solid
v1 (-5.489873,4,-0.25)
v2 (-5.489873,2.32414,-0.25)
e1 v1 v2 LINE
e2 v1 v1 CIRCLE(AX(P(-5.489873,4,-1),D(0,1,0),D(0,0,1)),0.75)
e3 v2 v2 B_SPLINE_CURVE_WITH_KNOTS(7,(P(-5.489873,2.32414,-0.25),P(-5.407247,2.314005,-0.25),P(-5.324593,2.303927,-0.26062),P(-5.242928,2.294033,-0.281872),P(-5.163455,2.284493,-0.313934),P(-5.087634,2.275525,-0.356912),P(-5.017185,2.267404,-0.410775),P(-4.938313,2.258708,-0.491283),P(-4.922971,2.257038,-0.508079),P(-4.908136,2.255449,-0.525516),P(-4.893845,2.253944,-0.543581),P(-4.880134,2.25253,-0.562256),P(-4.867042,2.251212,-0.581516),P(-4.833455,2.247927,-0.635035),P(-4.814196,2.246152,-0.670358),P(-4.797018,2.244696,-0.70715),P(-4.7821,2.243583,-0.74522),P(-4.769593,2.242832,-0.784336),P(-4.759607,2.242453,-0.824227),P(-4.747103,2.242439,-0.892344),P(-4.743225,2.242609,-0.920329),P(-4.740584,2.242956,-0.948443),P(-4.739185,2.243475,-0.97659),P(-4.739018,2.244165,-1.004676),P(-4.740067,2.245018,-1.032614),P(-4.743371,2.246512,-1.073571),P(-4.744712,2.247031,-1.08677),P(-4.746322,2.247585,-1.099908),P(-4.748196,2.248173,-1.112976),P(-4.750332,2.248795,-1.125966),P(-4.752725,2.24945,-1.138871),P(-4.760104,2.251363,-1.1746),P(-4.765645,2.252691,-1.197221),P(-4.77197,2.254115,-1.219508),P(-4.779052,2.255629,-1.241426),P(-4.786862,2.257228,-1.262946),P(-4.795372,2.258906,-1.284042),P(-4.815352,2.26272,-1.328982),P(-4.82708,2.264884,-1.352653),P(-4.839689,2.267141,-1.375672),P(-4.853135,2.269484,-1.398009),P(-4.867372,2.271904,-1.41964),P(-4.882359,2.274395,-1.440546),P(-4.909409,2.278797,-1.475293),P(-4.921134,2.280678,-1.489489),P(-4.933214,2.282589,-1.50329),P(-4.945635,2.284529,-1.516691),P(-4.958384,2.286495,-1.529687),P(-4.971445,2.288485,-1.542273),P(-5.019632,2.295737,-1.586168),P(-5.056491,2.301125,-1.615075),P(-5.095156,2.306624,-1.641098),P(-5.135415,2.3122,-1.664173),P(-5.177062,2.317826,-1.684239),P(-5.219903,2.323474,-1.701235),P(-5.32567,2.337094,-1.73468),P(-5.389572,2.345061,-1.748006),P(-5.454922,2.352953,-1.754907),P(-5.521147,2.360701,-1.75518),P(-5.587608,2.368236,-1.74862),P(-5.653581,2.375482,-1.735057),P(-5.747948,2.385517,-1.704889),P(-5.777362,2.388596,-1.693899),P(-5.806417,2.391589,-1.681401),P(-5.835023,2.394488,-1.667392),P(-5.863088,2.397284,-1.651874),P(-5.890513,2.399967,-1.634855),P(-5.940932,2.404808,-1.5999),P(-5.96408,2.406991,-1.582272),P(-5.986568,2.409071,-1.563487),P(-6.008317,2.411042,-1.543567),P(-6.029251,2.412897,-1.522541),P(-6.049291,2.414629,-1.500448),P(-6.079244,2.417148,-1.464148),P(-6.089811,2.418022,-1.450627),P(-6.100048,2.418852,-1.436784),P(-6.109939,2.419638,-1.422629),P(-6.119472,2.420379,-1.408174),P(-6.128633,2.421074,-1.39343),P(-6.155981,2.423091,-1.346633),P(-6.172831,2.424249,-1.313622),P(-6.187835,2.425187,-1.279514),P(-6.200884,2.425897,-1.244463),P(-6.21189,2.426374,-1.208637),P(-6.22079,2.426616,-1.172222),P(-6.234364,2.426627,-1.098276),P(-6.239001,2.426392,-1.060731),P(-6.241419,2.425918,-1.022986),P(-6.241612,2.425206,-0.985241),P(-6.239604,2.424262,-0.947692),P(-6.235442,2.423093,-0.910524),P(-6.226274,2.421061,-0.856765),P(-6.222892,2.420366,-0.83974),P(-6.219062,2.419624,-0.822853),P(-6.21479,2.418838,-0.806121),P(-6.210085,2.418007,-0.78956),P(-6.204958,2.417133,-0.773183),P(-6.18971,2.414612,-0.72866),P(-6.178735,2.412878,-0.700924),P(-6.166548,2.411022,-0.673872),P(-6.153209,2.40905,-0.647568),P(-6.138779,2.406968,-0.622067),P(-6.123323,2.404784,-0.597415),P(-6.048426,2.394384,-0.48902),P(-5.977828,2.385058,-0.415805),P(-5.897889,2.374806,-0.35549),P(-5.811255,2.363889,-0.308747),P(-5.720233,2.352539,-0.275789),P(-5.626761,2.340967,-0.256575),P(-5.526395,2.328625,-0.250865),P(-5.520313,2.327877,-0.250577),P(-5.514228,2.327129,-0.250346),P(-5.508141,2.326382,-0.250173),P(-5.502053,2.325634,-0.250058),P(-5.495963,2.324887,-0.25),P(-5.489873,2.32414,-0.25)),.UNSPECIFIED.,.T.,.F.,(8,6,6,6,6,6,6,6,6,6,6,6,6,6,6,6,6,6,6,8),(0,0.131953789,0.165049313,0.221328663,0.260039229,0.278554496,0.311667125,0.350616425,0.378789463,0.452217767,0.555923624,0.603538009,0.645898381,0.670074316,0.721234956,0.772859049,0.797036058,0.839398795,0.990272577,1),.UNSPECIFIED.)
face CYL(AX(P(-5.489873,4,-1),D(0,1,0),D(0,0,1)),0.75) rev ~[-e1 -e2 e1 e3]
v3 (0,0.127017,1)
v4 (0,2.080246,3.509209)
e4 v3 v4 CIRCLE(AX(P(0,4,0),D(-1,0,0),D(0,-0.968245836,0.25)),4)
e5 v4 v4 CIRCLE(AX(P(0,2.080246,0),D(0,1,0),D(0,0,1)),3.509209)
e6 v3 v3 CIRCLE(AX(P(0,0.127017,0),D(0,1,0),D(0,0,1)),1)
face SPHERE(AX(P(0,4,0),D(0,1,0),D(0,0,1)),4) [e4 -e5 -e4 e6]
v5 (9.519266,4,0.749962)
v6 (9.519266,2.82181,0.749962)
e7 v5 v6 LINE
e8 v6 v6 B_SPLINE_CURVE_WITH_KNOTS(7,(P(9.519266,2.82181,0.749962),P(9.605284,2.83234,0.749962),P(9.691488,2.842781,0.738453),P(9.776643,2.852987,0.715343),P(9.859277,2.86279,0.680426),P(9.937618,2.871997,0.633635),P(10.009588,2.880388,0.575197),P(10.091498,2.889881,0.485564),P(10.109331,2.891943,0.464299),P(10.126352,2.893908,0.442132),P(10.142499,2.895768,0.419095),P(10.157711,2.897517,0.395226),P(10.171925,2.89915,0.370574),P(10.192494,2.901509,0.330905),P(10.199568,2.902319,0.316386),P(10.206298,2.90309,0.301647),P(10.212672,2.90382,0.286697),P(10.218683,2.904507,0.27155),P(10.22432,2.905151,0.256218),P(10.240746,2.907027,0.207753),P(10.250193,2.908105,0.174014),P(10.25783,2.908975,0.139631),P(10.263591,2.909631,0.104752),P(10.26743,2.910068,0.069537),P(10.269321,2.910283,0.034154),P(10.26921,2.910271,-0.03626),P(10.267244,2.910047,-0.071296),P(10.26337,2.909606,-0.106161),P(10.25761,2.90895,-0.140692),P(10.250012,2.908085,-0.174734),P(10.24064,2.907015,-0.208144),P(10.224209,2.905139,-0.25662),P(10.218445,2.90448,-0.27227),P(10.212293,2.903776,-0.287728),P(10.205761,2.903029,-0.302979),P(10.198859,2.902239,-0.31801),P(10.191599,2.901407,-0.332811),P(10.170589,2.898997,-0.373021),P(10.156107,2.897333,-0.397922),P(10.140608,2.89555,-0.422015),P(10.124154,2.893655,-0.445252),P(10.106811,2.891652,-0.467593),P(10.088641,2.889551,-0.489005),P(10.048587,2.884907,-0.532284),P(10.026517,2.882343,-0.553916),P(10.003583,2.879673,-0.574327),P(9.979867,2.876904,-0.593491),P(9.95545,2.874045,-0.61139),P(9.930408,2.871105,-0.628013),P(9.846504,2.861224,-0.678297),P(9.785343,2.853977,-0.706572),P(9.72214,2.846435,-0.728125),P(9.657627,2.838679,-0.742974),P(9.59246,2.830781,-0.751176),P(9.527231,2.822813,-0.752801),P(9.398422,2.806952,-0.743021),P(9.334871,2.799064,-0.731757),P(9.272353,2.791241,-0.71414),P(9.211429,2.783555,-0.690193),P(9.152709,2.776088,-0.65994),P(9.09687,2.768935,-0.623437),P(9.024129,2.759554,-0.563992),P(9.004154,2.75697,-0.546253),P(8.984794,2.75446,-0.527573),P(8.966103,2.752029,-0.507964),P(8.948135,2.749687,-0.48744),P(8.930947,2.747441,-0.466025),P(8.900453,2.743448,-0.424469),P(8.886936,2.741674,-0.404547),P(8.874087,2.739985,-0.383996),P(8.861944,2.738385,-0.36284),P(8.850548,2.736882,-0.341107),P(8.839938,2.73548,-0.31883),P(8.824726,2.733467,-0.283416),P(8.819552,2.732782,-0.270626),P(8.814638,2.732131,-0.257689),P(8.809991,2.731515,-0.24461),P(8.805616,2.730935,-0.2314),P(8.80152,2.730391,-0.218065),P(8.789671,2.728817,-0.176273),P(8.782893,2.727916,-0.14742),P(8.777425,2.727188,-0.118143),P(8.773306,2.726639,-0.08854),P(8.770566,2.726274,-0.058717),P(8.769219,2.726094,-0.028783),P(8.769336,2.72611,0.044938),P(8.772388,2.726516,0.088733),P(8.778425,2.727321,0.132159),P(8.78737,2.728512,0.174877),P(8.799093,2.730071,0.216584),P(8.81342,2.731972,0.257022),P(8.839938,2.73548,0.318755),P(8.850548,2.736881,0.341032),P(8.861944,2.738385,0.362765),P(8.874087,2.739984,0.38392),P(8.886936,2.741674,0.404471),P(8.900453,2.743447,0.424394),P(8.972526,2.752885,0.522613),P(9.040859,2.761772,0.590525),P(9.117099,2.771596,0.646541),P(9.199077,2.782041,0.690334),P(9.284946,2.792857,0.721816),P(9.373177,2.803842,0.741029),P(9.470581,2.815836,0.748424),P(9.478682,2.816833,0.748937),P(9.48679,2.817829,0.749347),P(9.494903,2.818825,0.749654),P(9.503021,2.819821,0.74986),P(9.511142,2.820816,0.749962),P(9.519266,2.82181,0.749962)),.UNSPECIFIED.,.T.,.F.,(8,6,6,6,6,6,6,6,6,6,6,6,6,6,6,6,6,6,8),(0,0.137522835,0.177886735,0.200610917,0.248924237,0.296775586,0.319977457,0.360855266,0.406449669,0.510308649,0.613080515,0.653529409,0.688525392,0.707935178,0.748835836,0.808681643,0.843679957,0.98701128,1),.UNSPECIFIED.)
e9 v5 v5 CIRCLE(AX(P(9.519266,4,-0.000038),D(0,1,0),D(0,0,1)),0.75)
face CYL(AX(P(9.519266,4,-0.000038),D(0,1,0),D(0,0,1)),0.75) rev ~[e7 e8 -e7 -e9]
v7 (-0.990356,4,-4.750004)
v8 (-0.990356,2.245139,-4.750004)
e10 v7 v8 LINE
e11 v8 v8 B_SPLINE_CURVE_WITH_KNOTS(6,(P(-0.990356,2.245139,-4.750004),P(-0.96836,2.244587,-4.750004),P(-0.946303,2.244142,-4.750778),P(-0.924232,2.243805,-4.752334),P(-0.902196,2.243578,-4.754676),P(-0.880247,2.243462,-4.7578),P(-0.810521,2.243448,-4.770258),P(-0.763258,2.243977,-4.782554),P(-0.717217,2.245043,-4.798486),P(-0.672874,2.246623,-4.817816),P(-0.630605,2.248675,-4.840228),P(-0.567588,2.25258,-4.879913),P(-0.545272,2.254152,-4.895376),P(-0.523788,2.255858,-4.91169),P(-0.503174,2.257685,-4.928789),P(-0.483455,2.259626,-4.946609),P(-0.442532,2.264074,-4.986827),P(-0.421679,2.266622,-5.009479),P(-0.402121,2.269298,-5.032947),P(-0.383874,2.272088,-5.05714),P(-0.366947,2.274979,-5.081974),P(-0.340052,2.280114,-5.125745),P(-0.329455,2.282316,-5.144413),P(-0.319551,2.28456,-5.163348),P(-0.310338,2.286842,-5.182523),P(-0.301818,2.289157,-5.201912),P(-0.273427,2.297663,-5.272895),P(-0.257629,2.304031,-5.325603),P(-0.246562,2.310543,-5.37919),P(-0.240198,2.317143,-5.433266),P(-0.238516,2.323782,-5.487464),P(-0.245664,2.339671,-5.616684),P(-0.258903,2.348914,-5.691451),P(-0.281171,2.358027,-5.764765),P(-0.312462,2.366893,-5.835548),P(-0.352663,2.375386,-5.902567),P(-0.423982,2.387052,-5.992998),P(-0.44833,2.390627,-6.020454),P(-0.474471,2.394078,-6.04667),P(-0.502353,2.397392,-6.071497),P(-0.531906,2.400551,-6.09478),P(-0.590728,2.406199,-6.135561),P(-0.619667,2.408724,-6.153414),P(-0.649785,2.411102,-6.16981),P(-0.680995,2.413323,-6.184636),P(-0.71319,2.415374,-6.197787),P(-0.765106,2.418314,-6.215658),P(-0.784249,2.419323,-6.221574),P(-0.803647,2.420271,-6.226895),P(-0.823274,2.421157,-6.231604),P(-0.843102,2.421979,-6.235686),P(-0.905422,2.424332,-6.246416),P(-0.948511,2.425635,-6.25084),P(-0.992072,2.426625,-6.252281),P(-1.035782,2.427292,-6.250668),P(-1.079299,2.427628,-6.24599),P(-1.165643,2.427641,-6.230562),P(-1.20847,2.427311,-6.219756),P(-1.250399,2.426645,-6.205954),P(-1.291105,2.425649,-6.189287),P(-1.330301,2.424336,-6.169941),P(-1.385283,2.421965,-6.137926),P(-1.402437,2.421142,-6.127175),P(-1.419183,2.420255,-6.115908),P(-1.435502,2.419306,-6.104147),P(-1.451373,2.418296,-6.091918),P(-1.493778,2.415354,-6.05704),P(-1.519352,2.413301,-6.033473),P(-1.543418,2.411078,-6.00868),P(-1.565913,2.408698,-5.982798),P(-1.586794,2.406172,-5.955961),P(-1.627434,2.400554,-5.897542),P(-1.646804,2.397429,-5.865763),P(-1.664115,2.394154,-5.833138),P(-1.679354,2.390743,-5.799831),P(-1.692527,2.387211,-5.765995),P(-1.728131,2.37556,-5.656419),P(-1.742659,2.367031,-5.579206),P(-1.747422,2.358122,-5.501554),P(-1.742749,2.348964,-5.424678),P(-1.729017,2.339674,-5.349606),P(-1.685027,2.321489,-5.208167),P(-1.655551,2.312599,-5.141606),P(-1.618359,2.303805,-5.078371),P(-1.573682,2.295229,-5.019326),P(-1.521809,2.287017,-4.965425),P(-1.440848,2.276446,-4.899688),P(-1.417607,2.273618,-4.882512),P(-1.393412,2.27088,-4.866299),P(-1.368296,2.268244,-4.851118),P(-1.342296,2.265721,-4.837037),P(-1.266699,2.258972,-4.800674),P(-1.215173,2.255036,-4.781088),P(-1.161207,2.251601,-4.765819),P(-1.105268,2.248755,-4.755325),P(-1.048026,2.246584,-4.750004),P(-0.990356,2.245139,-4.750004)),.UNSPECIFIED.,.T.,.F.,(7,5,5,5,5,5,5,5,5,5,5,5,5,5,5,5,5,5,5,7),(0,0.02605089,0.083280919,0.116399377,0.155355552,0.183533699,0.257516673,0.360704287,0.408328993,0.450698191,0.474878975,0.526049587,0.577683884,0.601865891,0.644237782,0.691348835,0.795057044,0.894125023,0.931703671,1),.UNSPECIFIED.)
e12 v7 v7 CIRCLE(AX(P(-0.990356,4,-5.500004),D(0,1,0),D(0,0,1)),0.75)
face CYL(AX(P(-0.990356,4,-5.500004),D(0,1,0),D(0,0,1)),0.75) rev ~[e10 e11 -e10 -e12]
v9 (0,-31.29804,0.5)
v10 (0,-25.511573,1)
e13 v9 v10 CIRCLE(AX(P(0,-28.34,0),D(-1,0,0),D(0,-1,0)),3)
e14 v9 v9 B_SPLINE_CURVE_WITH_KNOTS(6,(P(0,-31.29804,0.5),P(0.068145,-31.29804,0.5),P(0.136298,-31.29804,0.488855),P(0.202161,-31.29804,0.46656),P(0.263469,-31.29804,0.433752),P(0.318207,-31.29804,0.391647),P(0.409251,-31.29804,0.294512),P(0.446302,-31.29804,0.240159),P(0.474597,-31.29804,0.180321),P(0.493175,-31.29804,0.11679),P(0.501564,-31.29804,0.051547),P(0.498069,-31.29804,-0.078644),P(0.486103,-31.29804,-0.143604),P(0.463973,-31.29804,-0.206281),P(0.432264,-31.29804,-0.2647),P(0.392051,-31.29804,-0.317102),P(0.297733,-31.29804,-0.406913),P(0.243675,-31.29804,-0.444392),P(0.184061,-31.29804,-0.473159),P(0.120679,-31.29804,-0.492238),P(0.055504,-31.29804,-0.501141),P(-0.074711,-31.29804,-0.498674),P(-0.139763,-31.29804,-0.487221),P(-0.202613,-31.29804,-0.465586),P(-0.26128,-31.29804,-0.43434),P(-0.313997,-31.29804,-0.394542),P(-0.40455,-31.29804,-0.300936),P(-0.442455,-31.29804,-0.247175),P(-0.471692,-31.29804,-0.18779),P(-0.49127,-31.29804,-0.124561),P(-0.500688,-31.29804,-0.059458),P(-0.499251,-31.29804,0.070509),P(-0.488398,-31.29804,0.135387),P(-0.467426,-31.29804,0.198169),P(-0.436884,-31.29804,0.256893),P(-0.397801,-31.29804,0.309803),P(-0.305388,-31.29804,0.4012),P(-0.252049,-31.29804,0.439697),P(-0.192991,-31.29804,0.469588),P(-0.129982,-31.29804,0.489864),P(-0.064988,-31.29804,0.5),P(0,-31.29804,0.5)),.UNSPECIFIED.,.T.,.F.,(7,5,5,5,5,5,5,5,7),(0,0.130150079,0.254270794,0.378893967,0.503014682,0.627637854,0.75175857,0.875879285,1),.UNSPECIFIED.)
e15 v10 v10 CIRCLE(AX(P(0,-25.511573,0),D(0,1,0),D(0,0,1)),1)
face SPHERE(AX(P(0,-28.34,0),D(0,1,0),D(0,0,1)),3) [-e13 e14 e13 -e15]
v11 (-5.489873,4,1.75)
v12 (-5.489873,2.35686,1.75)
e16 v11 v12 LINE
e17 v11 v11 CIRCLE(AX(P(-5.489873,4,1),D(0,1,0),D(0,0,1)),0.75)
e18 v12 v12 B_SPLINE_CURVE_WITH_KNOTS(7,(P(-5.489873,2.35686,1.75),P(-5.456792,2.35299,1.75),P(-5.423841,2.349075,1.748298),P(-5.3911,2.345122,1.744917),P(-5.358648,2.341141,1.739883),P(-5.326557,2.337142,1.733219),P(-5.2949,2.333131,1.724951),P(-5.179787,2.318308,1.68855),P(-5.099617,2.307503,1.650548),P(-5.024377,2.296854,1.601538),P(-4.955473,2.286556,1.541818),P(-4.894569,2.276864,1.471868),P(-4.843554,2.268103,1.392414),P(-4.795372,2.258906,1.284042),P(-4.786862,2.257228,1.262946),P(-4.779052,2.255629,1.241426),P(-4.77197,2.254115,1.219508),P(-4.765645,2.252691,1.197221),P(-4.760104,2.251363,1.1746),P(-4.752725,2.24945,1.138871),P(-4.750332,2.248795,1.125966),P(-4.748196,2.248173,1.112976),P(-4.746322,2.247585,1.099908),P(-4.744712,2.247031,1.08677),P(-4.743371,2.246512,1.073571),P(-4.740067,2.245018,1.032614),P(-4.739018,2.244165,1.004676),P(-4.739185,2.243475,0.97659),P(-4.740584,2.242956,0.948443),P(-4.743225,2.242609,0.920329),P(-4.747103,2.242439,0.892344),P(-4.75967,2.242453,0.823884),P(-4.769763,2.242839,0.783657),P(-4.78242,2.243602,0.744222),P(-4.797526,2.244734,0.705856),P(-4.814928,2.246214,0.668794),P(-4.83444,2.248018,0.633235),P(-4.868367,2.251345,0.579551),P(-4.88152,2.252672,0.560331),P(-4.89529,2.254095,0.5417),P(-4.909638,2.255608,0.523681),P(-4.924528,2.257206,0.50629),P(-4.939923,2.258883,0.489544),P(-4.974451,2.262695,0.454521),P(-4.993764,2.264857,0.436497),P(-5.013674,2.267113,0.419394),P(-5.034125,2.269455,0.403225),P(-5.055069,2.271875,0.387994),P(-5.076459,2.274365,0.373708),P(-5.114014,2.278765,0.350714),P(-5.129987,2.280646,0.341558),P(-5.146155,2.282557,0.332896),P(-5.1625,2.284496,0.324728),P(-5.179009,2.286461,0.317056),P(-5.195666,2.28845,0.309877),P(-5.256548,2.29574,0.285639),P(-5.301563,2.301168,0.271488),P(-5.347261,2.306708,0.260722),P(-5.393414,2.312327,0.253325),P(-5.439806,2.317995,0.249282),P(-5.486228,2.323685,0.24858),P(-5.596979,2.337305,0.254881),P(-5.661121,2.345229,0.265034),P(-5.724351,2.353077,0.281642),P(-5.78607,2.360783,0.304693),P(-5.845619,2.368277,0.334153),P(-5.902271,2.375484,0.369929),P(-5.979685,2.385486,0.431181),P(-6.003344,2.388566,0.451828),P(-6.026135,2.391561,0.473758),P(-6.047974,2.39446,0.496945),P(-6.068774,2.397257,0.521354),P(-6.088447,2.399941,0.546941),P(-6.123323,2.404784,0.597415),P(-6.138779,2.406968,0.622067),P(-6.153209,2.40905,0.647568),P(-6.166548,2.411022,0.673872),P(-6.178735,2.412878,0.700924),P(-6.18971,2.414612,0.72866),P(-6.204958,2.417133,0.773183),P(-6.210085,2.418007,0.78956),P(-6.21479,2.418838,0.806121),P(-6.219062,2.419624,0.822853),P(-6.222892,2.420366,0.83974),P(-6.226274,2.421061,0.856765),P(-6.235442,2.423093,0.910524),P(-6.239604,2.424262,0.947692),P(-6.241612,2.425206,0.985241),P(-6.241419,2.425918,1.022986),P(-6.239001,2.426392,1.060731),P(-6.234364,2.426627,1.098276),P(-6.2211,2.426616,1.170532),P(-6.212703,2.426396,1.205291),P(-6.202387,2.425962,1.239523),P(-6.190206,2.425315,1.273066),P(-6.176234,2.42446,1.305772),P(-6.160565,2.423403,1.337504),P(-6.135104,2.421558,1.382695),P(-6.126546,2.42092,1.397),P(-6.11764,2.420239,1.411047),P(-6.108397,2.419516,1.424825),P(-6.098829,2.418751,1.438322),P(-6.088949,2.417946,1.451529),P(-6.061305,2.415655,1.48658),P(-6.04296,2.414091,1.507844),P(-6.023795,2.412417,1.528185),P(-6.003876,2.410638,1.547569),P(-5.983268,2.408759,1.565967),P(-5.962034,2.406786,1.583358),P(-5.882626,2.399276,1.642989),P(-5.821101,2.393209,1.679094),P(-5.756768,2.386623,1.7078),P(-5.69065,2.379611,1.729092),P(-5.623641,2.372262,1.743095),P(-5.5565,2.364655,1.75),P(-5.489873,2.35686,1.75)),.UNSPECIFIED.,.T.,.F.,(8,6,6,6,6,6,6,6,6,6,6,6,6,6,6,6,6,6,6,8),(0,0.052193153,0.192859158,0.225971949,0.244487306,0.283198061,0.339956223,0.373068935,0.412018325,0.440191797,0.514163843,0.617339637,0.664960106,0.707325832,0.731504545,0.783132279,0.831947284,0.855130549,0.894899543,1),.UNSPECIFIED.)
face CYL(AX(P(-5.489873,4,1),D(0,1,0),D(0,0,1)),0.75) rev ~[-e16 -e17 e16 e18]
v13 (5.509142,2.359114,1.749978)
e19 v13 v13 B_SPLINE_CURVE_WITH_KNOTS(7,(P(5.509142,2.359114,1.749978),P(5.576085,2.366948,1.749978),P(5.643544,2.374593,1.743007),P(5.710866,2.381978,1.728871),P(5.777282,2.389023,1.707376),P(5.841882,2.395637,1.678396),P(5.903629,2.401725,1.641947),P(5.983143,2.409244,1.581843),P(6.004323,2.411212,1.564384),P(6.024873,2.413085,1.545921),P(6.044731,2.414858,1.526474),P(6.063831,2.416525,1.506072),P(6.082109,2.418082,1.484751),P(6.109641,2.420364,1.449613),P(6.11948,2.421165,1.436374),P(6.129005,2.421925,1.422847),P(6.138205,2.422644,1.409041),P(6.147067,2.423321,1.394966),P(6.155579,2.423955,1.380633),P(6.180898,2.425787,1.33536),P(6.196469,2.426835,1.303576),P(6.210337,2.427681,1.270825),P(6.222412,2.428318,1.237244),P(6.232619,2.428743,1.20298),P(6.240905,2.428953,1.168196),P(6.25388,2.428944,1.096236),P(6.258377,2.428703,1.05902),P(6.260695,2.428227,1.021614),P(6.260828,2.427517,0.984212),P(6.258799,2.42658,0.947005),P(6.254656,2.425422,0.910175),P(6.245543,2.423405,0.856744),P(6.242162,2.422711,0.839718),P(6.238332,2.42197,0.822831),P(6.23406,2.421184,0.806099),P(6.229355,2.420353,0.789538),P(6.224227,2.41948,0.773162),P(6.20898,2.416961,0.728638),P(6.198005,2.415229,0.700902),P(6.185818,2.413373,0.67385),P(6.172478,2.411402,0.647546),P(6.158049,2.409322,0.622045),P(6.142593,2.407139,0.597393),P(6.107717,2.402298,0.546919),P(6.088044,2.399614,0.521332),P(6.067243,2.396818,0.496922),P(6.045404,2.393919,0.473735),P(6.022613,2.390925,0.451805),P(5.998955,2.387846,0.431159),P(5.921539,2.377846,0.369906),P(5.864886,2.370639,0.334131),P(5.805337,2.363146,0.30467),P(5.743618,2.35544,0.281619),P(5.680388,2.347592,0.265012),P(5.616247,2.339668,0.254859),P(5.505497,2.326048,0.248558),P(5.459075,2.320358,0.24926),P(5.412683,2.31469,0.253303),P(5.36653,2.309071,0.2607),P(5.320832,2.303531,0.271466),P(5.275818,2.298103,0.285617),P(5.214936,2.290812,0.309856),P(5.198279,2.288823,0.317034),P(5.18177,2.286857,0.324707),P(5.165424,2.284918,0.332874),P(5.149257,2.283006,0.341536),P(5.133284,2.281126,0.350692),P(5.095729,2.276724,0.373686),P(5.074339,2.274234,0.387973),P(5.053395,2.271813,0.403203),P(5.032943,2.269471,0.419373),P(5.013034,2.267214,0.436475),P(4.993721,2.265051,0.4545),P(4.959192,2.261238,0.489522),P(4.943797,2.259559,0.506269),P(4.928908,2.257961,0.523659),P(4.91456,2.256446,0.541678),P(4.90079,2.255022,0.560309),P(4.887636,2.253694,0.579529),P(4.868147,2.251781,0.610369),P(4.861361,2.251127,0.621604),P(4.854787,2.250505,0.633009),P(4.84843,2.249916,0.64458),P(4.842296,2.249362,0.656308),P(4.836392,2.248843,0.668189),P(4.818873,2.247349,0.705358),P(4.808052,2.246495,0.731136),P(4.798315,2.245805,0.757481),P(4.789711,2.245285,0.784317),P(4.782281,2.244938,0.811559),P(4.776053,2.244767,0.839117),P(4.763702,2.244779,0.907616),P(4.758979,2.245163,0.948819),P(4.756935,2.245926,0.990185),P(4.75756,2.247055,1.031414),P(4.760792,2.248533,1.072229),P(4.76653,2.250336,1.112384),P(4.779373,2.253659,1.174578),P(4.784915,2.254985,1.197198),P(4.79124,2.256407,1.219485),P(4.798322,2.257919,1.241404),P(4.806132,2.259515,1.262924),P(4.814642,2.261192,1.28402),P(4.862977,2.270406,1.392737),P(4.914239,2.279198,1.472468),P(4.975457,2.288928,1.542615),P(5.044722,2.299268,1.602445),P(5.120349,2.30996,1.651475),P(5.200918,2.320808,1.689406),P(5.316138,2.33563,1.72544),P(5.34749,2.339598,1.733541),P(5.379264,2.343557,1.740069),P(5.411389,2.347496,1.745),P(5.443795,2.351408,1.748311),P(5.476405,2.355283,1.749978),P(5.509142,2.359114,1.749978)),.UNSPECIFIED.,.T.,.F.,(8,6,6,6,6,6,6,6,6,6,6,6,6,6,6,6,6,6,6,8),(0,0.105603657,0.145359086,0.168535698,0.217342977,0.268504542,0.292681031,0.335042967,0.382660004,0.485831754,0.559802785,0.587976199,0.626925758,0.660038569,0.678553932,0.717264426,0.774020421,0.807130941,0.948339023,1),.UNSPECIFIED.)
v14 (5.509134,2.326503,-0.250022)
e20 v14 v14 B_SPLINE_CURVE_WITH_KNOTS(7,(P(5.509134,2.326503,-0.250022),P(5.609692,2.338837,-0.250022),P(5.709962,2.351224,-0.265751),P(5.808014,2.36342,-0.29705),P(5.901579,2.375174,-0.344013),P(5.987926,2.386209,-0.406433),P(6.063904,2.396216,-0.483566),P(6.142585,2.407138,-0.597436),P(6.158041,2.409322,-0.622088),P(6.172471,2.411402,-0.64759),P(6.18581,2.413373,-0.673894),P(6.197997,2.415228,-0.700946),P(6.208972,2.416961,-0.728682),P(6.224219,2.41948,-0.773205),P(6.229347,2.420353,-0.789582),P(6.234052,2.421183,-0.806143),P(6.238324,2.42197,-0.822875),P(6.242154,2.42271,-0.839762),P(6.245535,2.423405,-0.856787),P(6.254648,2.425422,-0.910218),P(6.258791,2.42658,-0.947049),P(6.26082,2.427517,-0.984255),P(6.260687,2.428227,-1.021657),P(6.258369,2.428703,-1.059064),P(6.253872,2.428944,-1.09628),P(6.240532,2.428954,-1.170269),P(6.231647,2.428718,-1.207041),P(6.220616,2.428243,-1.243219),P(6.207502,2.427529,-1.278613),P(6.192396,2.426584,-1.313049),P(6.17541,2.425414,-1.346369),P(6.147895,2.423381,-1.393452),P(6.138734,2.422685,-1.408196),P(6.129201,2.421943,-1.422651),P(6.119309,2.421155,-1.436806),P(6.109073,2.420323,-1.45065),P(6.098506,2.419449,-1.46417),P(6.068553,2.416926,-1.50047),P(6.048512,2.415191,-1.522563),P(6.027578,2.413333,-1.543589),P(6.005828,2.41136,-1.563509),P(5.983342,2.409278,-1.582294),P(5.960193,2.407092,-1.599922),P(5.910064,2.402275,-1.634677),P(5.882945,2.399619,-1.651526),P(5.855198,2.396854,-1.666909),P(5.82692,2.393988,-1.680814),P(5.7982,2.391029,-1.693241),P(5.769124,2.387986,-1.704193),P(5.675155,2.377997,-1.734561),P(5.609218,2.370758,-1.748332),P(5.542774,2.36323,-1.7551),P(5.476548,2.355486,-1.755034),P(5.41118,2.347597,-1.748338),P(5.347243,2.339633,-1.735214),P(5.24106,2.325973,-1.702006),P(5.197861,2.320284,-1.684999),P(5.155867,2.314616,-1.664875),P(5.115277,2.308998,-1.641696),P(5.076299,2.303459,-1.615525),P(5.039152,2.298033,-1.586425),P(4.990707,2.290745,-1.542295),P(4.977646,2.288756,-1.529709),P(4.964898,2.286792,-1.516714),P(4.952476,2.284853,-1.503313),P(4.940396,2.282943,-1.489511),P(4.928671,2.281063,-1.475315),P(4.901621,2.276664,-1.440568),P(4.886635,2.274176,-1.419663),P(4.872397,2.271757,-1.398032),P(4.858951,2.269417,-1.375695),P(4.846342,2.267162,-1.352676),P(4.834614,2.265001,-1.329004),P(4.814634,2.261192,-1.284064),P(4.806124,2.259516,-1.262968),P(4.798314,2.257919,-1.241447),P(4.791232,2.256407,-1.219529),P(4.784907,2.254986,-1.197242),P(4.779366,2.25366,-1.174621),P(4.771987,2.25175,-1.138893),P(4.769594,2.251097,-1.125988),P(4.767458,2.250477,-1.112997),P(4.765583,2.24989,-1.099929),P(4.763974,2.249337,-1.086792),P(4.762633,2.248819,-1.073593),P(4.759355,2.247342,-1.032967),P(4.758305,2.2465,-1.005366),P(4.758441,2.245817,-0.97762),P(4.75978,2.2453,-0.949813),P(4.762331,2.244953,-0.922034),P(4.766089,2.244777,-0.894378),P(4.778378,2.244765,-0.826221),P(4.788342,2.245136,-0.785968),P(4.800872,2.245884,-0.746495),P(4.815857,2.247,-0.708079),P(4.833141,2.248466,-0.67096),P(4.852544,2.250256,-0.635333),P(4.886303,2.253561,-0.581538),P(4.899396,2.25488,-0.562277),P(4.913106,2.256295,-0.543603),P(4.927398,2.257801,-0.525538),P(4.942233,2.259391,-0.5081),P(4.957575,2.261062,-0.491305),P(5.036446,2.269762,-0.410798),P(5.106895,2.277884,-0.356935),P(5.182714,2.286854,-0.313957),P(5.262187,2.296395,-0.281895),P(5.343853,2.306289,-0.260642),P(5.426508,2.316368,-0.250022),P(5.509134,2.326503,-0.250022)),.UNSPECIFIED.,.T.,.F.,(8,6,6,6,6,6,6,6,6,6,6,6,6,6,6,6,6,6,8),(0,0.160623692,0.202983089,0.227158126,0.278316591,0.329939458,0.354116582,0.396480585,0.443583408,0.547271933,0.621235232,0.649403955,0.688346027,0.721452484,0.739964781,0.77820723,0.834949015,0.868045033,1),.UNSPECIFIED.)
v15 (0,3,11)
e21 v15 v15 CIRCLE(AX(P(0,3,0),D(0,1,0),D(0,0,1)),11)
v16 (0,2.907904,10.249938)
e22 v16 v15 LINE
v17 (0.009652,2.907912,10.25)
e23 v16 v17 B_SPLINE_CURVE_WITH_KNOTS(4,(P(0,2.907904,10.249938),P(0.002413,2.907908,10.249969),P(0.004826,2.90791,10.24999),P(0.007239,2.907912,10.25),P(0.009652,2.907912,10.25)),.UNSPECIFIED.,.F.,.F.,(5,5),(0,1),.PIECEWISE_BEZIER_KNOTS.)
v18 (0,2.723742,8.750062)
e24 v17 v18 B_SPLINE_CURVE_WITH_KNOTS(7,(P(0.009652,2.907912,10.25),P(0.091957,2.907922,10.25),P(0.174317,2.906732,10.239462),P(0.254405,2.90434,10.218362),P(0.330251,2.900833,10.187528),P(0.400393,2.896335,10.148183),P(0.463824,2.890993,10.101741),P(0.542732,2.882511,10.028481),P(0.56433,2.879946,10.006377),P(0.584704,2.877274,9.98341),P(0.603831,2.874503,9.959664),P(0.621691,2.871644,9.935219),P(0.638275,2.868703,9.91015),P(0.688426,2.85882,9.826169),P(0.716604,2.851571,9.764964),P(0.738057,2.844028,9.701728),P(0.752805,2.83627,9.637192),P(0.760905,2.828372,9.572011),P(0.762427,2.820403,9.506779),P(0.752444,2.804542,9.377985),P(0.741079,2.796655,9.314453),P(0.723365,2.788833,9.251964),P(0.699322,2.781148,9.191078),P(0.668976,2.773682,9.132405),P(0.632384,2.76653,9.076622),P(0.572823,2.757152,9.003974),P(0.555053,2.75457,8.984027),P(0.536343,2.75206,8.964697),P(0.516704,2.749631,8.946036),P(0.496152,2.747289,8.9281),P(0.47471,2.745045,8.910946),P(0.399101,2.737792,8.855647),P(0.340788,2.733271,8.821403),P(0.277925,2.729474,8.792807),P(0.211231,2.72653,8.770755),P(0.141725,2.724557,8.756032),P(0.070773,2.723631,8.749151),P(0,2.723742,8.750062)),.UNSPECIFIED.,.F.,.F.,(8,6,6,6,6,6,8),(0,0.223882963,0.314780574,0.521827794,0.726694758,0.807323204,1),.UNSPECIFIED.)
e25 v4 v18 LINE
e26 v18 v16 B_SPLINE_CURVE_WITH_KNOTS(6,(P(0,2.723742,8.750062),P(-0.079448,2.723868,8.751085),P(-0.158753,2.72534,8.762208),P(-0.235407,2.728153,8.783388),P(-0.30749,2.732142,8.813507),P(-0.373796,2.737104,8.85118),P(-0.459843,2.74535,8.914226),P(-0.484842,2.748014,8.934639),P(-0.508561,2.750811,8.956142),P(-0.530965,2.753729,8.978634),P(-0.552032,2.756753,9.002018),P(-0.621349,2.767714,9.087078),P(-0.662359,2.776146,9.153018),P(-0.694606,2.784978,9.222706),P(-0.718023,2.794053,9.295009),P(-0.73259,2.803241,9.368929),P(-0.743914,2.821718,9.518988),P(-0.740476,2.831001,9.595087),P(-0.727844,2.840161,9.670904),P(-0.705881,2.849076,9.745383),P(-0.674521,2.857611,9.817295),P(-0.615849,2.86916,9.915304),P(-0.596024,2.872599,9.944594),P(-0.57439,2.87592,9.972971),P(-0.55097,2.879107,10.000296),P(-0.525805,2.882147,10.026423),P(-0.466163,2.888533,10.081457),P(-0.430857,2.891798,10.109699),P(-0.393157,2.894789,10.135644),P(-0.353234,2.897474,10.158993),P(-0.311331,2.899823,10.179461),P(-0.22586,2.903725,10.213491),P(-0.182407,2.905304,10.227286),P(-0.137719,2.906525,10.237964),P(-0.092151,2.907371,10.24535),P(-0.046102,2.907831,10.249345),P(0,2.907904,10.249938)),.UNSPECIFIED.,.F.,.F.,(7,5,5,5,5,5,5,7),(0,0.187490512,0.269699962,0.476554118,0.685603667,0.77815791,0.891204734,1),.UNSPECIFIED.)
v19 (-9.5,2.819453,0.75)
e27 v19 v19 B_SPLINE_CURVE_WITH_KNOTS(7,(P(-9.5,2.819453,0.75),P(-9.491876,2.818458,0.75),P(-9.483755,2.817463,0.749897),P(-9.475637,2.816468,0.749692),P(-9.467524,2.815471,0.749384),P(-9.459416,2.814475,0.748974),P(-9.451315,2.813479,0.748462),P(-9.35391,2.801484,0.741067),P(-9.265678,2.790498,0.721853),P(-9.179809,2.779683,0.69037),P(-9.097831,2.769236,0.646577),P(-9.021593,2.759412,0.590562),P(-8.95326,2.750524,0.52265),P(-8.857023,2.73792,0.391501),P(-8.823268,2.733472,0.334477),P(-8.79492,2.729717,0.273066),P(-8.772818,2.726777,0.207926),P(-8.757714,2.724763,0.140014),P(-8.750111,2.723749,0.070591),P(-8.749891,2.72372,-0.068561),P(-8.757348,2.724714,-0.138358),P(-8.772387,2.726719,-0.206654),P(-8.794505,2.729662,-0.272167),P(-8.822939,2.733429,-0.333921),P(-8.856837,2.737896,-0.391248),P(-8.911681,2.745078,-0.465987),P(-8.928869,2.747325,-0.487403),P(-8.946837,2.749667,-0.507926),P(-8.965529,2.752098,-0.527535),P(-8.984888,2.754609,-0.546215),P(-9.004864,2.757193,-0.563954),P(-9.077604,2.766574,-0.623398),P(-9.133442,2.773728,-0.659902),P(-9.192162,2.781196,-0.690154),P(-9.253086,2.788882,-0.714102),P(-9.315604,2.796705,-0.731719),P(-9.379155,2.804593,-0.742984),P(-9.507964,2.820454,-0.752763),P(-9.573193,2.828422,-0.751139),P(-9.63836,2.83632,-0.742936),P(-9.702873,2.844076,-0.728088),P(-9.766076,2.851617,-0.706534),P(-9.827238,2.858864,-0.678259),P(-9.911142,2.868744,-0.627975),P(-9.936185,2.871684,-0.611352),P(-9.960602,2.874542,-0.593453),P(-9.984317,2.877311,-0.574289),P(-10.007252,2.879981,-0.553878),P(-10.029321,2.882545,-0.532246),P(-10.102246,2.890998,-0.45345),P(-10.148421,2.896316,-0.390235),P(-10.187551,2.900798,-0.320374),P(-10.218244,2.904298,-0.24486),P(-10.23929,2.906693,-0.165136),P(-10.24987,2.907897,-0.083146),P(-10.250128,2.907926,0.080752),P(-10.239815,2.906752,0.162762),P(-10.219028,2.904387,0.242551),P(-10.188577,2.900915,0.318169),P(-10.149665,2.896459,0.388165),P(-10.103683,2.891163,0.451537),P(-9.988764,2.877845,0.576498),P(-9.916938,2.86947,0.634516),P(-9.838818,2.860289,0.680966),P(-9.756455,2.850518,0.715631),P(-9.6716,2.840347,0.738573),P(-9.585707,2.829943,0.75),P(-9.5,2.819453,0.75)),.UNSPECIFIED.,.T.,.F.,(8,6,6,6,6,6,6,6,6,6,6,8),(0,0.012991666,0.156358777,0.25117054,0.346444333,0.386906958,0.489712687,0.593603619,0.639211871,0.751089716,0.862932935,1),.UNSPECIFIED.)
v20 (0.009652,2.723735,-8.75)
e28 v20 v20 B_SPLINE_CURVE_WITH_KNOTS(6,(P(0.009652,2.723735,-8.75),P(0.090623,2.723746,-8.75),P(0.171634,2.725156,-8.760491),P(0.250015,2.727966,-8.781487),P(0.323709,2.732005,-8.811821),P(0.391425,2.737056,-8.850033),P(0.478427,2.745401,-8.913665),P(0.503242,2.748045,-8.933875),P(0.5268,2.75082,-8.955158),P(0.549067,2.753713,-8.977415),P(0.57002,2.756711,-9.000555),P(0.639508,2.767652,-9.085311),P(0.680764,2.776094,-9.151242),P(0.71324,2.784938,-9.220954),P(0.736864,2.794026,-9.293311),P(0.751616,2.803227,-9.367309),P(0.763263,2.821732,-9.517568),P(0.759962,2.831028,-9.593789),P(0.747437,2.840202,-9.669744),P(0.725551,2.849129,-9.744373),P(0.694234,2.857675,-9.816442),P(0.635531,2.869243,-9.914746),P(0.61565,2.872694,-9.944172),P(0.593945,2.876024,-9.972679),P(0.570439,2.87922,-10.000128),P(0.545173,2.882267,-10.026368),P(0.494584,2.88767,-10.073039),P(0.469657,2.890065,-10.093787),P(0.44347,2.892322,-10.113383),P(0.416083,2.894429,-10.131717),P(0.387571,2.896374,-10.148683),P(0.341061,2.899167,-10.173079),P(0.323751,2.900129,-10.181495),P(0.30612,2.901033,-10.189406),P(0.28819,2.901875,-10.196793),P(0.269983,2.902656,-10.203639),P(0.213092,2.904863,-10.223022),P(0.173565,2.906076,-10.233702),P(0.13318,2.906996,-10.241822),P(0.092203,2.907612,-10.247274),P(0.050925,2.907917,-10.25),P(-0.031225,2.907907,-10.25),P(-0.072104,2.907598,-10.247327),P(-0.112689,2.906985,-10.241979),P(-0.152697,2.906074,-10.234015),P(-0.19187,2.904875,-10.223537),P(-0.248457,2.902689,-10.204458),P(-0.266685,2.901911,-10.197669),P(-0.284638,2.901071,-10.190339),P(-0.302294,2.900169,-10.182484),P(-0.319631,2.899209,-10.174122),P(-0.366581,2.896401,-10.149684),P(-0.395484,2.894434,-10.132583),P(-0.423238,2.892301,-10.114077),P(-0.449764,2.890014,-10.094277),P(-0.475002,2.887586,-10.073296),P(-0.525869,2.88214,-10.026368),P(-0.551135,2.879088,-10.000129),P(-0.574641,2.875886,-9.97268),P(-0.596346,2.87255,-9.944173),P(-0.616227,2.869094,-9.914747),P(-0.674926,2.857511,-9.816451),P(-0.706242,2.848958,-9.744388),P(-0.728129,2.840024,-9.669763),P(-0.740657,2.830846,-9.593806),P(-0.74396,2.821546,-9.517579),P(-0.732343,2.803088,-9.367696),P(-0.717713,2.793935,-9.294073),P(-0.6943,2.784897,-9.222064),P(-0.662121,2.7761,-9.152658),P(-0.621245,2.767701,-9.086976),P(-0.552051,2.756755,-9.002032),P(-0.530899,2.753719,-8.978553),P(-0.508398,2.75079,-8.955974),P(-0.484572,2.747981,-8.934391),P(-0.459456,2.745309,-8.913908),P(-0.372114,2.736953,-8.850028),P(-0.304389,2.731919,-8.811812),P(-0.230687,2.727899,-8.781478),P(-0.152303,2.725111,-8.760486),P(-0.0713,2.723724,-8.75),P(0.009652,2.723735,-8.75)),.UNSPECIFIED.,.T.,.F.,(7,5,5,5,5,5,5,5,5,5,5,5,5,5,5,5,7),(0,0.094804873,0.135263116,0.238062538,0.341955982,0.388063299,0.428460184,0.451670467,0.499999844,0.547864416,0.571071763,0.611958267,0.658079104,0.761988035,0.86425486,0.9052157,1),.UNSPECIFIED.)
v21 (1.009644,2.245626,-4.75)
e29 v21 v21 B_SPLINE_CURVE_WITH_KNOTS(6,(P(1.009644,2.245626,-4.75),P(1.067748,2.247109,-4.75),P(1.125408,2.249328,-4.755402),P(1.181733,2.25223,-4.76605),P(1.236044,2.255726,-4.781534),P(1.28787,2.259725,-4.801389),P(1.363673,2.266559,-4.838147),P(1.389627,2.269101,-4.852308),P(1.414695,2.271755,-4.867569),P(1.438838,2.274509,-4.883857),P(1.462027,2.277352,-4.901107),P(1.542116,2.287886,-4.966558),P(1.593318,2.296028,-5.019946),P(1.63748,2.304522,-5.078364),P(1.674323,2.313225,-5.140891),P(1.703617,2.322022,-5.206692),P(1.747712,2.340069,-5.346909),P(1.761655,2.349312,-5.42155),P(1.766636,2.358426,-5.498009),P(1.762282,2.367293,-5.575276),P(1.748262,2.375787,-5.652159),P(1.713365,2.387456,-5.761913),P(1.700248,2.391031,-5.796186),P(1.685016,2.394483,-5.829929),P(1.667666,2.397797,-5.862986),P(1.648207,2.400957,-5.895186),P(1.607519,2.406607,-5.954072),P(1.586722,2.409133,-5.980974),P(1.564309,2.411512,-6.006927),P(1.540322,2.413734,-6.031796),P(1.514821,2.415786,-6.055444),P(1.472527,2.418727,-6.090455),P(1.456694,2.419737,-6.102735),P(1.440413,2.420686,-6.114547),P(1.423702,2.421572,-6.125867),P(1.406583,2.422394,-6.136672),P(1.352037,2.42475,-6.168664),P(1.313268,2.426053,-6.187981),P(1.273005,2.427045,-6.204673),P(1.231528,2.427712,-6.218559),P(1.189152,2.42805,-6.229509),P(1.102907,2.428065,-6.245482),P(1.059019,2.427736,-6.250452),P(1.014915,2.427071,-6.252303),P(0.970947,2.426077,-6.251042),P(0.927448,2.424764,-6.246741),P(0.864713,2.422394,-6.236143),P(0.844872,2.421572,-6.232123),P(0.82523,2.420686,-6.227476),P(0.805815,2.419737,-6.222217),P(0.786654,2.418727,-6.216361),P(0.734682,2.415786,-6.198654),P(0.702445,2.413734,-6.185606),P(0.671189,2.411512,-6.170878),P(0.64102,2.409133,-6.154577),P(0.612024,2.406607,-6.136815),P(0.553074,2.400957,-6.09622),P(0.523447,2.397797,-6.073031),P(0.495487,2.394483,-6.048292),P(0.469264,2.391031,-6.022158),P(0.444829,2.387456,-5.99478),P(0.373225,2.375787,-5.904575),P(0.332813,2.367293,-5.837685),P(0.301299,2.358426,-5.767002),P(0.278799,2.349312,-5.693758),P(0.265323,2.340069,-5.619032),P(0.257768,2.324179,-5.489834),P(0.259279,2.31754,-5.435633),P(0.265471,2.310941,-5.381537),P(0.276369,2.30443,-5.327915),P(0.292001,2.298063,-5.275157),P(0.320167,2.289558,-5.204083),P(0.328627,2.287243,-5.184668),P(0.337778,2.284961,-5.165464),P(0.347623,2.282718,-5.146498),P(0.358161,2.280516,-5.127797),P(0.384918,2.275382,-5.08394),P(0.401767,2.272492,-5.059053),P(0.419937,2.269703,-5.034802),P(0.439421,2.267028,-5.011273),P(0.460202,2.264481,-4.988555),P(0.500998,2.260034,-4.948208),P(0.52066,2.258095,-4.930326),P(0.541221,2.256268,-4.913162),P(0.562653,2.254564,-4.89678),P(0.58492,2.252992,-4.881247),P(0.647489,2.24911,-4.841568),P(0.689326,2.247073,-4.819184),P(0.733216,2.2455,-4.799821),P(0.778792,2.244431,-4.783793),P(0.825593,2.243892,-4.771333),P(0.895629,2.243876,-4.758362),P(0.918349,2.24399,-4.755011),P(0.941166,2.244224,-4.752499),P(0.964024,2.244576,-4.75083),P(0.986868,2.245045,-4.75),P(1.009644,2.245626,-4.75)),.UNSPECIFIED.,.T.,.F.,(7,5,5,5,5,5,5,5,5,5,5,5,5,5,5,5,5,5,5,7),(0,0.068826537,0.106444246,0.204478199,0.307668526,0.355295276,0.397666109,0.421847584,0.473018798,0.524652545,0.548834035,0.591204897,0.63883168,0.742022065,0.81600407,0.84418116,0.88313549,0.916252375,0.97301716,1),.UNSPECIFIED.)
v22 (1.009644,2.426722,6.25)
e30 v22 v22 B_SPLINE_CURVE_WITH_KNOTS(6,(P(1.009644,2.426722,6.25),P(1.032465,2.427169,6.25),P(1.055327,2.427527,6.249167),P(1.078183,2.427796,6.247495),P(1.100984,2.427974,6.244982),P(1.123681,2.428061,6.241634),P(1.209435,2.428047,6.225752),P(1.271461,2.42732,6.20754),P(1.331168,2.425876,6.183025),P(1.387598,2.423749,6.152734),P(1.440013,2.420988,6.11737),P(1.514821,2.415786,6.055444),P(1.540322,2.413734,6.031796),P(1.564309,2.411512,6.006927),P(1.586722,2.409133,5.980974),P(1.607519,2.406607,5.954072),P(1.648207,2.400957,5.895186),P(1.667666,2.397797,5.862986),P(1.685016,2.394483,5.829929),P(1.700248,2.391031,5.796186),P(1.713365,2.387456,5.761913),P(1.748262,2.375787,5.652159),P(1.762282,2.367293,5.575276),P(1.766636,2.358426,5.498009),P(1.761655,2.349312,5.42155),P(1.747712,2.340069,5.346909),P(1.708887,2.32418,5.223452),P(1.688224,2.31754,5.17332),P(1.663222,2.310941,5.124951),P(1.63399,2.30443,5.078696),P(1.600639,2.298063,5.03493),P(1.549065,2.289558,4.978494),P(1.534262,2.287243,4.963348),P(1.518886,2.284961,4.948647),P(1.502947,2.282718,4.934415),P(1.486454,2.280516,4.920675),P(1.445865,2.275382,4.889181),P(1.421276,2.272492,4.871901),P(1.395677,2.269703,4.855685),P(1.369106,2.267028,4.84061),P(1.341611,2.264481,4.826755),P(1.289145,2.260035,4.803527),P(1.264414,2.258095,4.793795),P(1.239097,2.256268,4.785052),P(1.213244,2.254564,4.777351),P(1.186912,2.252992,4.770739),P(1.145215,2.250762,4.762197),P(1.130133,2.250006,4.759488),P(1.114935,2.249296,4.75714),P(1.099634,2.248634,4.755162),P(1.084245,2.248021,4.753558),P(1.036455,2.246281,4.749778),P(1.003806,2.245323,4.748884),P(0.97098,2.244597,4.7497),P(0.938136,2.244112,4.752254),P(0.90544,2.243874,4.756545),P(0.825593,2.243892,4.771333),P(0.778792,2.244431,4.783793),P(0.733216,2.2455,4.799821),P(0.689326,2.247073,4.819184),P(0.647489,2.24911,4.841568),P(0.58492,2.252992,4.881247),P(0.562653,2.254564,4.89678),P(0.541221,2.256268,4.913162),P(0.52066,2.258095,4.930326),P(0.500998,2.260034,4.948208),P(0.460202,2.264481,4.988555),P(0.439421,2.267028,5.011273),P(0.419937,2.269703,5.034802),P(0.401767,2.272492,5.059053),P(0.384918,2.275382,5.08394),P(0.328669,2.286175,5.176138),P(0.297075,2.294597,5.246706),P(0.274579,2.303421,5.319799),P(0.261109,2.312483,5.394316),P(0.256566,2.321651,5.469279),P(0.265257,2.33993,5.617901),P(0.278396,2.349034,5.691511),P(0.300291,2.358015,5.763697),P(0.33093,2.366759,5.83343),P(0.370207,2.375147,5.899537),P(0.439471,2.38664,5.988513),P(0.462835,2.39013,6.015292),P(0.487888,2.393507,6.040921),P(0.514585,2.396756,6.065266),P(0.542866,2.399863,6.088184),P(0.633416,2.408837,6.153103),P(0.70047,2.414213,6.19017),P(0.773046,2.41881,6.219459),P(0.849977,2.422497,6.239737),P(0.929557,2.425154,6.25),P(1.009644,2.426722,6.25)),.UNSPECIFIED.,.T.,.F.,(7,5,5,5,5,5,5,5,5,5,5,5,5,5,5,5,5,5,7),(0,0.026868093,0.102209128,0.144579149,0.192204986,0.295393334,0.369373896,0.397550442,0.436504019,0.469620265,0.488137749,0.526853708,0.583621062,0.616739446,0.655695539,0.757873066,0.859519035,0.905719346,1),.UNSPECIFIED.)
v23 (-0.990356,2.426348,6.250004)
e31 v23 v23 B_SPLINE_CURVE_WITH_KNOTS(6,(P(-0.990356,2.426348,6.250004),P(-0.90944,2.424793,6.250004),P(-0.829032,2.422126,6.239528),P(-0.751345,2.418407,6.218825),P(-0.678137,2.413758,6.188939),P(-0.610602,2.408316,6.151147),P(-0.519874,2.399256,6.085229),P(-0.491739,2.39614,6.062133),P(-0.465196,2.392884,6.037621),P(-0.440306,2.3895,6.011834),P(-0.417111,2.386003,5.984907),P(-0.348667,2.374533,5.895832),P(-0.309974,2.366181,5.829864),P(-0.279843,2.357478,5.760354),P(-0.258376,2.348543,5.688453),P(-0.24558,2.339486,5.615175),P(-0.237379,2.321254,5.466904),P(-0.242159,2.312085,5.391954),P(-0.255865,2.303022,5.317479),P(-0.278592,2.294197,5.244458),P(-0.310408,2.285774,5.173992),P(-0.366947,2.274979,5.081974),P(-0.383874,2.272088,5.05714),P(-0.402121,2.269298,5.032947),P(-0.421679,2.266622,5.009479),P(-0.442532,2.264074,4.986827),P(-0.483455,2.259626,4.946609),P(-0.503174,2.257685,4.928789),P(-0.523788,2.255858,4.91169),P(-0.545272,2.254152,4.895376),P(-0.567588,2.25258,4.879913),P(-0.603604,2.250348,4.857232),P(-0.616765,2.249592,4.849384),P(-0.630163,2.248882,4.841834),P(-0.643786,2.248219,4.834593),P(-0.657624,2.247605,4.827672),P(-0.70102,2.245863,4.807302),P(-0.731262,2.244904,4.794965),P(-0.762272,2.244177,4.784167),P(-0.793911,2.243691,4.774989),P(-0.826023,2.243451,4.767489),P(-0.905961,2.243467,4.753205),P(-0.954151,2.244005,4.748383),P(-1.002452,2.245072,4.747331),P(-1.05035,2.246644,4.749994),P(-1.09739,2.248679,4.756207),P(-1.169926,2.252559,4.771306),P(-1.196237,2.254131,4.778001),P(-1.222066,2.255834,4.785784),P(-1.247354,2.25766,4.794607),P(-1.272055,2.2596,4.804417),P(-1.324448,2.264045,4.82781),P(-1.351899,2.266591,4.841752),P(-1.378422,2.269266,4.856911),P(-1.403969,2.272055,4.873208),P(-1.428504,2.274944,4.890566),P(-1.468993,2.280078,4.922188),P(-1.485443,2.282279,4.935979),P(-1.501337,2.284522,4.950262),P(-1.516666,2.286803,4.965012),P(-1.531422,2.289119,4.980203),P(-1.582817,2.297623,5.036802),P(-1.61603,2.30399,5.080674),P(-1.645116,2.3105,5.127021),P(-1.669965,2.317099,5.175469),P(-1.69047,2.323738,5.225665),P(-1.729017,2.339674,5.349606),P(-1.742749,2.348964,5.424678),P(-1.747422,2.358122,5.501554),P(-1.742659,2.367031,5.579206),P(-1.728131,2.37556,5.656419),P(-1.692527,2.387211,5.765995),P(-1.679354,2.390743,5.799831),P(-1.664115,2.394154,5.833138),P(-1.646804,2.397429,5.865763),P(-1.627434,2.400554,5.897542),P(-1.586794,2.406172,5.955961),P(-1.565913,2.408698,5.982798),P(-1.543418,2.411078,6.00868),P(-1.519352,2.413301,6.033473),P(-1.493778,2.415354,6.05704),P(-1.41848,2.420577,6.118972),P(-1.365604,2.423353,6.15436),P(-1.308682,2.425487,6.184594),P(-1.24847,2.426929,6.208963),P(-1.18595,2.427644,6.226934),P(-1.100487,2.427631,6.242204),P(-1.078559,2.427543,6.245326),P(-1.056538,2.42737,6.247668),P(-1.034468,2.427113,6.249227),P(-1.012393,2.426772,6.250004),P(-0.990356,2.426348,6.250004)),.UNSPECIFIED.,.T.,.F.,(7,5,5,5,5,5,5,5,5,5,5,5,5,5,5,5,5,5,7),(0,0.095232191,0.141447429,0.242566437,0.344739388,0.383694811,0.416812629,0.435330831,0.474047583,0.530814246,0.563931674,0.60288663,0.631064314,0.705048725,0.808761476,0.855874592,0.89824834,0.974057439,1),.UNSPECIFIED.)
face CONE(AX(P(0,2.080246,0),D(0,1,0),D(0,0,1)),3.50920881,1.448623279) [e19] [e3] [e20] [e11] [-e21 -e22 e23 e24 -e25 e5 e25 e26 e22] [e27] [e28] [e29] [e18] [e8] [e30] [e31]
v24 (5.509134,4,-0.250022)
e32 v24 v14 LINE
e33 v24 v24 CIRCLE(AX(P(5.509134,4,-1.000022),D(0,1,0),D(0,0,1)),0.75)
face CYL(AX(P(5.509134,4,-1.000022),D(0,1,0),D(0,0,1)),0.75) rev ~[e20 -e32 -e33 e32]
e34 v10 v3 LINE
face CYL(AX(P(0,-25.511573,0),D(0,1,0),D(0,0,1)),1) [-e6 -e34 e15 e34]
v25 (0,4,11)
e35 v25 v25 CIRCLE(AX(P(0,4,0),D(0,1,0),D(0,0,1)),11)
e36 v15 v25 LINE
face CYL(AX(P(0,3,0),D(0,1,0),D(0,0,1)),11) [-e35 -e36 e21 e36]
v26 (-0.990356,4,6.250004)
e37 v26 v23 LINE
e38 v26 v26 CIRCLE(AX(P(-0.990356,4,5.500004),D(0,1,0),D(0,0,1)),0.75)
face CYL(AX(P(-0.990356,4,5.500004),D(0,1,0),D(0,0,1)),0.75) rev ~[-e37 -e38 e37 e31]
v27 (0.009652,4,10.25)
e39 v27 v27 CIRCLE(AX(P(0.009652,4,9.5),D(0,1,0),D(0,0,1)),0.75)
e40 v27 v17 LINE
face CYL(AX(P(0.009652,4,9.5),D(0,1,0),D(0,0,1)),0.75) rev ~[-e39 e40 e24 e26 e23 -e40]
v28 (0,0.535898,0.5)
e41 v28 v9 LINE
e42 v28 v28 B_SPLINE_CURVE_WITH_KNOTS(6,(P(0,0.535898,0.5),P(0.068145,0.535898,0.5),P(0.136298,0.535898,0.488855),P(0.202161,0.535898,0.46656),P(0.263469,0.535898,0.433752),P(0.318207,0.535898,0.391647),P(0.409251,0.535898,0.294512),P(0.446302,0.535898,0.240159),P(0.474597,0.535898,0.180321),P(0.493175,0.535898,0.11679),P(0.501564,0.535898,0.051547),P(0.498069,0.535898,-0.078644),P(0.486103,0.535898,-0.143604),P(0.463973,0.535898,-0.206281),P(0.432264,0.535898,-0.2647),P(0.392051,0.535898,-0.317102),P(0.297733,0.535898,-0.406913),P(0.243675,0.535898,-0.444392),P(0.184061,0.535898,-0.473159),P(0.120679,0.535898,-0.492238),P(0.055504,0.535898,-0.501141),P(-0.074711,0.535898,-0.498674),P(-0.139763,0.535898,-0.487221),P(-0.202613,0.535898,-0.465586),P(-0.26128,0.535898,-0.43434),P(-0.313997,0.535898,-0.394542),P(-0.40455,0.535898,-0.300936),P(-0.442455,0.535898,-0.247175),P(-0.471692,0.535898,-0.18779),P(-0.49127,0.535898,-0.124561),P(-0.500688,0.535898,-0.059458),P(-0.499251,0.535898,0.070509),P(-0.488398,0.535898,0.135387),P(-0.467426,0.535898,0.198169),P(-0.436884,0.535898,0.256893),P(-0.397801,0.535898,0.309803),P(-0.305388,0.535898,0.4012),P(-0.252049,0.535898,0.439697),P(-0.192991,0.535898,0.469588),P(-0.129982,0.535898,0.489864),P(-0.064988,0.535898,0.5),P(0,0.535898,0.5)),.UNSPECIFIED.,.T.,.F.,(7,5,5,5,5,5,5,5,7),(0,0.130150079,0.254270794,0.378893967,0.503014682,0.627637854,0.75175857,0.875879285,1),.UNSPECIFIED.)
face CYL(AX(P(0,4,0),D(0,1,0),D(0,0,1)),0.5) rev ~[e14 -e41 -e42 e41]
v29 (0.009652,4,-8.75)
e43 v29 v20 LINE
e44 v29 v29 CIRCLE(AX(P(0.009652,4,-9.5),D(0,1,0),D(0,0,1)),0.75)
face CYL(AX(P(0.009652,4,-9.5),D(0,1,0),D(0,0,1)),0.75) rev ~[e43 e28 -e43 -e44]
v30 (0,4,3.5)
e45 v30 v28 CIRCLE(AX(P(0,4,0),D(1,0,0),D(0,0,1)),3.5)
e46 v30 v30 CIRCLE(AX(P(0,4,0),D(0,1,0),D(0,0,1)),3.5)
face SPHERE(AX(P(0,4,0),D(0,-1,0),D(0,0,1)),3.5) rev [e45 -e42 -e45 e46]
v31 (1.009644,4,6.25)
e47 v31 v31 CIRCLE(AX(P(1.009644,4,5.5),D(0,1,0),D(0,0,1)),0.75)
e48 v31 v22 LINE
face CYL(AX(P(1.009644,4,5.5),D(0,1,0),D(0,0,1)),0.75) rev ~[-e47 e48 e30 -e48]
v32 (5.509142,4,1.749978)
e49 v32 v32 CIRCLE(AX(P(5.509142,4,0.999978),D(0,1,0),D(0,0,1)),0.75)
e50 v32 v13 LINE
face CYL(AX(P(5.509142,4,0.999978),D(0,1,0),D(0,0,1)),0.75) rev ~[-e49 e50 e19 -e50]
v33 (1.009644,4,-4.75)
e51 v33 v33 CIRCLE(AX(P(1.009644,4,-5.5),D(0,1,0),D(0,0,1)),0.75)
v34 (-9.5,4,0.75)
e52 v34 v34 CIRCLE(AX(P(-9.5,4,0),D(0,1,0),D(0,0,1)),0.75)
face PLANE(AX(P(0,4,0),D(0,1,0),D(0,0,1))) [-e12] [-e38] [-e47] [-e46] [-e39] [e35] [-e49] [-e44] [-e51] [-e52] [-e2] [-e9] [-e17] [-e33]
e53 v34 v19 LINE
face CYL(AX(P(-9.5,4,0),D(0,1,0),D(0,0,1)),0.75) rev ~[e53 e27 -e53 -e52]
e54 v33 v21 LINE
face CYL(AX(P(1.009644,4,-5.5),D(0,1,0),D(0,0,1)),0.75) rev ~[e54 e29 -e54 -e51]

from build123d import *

# Parameters (mm, degrees)
SKETCH2_R          = 0.75
SKETCH2_R_2        = 0.5
CUT_EXTRUDE1_DEPTH = 40


with BuildPart() as part:
    # Sketch1 → Revolve1 (revolve)
    with BuildSketch(Plane(origin=(0, 0, 0), x_dir=(0, 0, -1), z_dir=(1, 0, 0))):
        with BuildLine():
            ThreePointArc((-3.5, 4), (-2.474873734, 1.525126266), (0, 0.5))
            Line((0, 0.5), (0, 0))
            Line((0, 0), (0, -25.34))
            Line((0, -25.34), (0, -31.34))
            ThreePointArc((0, -31.34), (-2.956795679, -28.847305936), (-1, -25.511572875))
            Line((-1, -25.511572875), (-1, 0.127016654))
            ThreePointArc((-1, 0.127016654), (-2.457034335, 0.843580783), (-3.50920881, 2.080246493))
            Line((-3.50920881, 2.080246493), (-11, 3))
            Line((-11, 3), (-11, 4))
            Line((-11, 4), (-4, 4))
            Line((-4, 4), (-3.5, 4))
        make_face()
    revolve(axis=Axis((0, 10.634252877, 0), (0, 1, 0)))

    # Sketch2 → Cut-Extrude1 (cut)
    with BuildSketch(Plane(origin=(0, 4, 0), x_dir=(1, 0, 0), z_dir=(0, 1, 0))):
        with Locations(Location((-5.489872585, -1, 0), (0, 0, 270))):
            Circle(SKETCH2_R)
        with Locations(Location((-9.5, 0, 0), (0, 0, 270))):
            Circle(SKETCH2_R)
        with Locations(Location((0.00965171, -9.5, 0), (0, 0, 270))):
            Circle(SKETCH2_R)
        with Locations(Location((-0.990356221, -5.500003966, 0), (0, 0, 270))):
            Circle(SKETCH2_R)
        with Locations(Location((1.009643779, -5.5, 0), (0, 0, 270))):
            Circle(SKETCH2_R)
        with Locations(Location((5.509142299, -0.999978192, 0), (0, 0, 270))):
            Circle(SKETCH2_R)
        with Locations(Location((5.509134368, 1.000021808, 0), (0, 0, 270))):
            Circle(SKETCH2_R)
        with Locations(Location((9.519265749, 3.7711e-05, 0), (0, 0, 270))):
            Circle(SKETCH2_R)
        with Locations(Location((1.009643779, 5.5, 0), (0, 0, 270))):
            Circle(SKETCH2_R)
        with Locations(Location((-0.990356221, 5.500003966, 0), (0, 0, 270))):
            Circle(SKETCH2_R)
        with Locations(Location((0.00965171, 9.5, 0), (0, 0, 270))):
            Circle(SKETCH2_R)
        with Locations(Location((0, 0, 0), (0, 0, 270))):
            Circle(SKETCH2_R_2)
        with Locations(Location((-5.489872585, 1, 0), (0, 0, 270))):
            Circle(SKETCH2_R)
    extrude(amount=-CUT_EXTRUDE1_DEPTH, mode=Mode.SUBTRACT)


solid = part.part
